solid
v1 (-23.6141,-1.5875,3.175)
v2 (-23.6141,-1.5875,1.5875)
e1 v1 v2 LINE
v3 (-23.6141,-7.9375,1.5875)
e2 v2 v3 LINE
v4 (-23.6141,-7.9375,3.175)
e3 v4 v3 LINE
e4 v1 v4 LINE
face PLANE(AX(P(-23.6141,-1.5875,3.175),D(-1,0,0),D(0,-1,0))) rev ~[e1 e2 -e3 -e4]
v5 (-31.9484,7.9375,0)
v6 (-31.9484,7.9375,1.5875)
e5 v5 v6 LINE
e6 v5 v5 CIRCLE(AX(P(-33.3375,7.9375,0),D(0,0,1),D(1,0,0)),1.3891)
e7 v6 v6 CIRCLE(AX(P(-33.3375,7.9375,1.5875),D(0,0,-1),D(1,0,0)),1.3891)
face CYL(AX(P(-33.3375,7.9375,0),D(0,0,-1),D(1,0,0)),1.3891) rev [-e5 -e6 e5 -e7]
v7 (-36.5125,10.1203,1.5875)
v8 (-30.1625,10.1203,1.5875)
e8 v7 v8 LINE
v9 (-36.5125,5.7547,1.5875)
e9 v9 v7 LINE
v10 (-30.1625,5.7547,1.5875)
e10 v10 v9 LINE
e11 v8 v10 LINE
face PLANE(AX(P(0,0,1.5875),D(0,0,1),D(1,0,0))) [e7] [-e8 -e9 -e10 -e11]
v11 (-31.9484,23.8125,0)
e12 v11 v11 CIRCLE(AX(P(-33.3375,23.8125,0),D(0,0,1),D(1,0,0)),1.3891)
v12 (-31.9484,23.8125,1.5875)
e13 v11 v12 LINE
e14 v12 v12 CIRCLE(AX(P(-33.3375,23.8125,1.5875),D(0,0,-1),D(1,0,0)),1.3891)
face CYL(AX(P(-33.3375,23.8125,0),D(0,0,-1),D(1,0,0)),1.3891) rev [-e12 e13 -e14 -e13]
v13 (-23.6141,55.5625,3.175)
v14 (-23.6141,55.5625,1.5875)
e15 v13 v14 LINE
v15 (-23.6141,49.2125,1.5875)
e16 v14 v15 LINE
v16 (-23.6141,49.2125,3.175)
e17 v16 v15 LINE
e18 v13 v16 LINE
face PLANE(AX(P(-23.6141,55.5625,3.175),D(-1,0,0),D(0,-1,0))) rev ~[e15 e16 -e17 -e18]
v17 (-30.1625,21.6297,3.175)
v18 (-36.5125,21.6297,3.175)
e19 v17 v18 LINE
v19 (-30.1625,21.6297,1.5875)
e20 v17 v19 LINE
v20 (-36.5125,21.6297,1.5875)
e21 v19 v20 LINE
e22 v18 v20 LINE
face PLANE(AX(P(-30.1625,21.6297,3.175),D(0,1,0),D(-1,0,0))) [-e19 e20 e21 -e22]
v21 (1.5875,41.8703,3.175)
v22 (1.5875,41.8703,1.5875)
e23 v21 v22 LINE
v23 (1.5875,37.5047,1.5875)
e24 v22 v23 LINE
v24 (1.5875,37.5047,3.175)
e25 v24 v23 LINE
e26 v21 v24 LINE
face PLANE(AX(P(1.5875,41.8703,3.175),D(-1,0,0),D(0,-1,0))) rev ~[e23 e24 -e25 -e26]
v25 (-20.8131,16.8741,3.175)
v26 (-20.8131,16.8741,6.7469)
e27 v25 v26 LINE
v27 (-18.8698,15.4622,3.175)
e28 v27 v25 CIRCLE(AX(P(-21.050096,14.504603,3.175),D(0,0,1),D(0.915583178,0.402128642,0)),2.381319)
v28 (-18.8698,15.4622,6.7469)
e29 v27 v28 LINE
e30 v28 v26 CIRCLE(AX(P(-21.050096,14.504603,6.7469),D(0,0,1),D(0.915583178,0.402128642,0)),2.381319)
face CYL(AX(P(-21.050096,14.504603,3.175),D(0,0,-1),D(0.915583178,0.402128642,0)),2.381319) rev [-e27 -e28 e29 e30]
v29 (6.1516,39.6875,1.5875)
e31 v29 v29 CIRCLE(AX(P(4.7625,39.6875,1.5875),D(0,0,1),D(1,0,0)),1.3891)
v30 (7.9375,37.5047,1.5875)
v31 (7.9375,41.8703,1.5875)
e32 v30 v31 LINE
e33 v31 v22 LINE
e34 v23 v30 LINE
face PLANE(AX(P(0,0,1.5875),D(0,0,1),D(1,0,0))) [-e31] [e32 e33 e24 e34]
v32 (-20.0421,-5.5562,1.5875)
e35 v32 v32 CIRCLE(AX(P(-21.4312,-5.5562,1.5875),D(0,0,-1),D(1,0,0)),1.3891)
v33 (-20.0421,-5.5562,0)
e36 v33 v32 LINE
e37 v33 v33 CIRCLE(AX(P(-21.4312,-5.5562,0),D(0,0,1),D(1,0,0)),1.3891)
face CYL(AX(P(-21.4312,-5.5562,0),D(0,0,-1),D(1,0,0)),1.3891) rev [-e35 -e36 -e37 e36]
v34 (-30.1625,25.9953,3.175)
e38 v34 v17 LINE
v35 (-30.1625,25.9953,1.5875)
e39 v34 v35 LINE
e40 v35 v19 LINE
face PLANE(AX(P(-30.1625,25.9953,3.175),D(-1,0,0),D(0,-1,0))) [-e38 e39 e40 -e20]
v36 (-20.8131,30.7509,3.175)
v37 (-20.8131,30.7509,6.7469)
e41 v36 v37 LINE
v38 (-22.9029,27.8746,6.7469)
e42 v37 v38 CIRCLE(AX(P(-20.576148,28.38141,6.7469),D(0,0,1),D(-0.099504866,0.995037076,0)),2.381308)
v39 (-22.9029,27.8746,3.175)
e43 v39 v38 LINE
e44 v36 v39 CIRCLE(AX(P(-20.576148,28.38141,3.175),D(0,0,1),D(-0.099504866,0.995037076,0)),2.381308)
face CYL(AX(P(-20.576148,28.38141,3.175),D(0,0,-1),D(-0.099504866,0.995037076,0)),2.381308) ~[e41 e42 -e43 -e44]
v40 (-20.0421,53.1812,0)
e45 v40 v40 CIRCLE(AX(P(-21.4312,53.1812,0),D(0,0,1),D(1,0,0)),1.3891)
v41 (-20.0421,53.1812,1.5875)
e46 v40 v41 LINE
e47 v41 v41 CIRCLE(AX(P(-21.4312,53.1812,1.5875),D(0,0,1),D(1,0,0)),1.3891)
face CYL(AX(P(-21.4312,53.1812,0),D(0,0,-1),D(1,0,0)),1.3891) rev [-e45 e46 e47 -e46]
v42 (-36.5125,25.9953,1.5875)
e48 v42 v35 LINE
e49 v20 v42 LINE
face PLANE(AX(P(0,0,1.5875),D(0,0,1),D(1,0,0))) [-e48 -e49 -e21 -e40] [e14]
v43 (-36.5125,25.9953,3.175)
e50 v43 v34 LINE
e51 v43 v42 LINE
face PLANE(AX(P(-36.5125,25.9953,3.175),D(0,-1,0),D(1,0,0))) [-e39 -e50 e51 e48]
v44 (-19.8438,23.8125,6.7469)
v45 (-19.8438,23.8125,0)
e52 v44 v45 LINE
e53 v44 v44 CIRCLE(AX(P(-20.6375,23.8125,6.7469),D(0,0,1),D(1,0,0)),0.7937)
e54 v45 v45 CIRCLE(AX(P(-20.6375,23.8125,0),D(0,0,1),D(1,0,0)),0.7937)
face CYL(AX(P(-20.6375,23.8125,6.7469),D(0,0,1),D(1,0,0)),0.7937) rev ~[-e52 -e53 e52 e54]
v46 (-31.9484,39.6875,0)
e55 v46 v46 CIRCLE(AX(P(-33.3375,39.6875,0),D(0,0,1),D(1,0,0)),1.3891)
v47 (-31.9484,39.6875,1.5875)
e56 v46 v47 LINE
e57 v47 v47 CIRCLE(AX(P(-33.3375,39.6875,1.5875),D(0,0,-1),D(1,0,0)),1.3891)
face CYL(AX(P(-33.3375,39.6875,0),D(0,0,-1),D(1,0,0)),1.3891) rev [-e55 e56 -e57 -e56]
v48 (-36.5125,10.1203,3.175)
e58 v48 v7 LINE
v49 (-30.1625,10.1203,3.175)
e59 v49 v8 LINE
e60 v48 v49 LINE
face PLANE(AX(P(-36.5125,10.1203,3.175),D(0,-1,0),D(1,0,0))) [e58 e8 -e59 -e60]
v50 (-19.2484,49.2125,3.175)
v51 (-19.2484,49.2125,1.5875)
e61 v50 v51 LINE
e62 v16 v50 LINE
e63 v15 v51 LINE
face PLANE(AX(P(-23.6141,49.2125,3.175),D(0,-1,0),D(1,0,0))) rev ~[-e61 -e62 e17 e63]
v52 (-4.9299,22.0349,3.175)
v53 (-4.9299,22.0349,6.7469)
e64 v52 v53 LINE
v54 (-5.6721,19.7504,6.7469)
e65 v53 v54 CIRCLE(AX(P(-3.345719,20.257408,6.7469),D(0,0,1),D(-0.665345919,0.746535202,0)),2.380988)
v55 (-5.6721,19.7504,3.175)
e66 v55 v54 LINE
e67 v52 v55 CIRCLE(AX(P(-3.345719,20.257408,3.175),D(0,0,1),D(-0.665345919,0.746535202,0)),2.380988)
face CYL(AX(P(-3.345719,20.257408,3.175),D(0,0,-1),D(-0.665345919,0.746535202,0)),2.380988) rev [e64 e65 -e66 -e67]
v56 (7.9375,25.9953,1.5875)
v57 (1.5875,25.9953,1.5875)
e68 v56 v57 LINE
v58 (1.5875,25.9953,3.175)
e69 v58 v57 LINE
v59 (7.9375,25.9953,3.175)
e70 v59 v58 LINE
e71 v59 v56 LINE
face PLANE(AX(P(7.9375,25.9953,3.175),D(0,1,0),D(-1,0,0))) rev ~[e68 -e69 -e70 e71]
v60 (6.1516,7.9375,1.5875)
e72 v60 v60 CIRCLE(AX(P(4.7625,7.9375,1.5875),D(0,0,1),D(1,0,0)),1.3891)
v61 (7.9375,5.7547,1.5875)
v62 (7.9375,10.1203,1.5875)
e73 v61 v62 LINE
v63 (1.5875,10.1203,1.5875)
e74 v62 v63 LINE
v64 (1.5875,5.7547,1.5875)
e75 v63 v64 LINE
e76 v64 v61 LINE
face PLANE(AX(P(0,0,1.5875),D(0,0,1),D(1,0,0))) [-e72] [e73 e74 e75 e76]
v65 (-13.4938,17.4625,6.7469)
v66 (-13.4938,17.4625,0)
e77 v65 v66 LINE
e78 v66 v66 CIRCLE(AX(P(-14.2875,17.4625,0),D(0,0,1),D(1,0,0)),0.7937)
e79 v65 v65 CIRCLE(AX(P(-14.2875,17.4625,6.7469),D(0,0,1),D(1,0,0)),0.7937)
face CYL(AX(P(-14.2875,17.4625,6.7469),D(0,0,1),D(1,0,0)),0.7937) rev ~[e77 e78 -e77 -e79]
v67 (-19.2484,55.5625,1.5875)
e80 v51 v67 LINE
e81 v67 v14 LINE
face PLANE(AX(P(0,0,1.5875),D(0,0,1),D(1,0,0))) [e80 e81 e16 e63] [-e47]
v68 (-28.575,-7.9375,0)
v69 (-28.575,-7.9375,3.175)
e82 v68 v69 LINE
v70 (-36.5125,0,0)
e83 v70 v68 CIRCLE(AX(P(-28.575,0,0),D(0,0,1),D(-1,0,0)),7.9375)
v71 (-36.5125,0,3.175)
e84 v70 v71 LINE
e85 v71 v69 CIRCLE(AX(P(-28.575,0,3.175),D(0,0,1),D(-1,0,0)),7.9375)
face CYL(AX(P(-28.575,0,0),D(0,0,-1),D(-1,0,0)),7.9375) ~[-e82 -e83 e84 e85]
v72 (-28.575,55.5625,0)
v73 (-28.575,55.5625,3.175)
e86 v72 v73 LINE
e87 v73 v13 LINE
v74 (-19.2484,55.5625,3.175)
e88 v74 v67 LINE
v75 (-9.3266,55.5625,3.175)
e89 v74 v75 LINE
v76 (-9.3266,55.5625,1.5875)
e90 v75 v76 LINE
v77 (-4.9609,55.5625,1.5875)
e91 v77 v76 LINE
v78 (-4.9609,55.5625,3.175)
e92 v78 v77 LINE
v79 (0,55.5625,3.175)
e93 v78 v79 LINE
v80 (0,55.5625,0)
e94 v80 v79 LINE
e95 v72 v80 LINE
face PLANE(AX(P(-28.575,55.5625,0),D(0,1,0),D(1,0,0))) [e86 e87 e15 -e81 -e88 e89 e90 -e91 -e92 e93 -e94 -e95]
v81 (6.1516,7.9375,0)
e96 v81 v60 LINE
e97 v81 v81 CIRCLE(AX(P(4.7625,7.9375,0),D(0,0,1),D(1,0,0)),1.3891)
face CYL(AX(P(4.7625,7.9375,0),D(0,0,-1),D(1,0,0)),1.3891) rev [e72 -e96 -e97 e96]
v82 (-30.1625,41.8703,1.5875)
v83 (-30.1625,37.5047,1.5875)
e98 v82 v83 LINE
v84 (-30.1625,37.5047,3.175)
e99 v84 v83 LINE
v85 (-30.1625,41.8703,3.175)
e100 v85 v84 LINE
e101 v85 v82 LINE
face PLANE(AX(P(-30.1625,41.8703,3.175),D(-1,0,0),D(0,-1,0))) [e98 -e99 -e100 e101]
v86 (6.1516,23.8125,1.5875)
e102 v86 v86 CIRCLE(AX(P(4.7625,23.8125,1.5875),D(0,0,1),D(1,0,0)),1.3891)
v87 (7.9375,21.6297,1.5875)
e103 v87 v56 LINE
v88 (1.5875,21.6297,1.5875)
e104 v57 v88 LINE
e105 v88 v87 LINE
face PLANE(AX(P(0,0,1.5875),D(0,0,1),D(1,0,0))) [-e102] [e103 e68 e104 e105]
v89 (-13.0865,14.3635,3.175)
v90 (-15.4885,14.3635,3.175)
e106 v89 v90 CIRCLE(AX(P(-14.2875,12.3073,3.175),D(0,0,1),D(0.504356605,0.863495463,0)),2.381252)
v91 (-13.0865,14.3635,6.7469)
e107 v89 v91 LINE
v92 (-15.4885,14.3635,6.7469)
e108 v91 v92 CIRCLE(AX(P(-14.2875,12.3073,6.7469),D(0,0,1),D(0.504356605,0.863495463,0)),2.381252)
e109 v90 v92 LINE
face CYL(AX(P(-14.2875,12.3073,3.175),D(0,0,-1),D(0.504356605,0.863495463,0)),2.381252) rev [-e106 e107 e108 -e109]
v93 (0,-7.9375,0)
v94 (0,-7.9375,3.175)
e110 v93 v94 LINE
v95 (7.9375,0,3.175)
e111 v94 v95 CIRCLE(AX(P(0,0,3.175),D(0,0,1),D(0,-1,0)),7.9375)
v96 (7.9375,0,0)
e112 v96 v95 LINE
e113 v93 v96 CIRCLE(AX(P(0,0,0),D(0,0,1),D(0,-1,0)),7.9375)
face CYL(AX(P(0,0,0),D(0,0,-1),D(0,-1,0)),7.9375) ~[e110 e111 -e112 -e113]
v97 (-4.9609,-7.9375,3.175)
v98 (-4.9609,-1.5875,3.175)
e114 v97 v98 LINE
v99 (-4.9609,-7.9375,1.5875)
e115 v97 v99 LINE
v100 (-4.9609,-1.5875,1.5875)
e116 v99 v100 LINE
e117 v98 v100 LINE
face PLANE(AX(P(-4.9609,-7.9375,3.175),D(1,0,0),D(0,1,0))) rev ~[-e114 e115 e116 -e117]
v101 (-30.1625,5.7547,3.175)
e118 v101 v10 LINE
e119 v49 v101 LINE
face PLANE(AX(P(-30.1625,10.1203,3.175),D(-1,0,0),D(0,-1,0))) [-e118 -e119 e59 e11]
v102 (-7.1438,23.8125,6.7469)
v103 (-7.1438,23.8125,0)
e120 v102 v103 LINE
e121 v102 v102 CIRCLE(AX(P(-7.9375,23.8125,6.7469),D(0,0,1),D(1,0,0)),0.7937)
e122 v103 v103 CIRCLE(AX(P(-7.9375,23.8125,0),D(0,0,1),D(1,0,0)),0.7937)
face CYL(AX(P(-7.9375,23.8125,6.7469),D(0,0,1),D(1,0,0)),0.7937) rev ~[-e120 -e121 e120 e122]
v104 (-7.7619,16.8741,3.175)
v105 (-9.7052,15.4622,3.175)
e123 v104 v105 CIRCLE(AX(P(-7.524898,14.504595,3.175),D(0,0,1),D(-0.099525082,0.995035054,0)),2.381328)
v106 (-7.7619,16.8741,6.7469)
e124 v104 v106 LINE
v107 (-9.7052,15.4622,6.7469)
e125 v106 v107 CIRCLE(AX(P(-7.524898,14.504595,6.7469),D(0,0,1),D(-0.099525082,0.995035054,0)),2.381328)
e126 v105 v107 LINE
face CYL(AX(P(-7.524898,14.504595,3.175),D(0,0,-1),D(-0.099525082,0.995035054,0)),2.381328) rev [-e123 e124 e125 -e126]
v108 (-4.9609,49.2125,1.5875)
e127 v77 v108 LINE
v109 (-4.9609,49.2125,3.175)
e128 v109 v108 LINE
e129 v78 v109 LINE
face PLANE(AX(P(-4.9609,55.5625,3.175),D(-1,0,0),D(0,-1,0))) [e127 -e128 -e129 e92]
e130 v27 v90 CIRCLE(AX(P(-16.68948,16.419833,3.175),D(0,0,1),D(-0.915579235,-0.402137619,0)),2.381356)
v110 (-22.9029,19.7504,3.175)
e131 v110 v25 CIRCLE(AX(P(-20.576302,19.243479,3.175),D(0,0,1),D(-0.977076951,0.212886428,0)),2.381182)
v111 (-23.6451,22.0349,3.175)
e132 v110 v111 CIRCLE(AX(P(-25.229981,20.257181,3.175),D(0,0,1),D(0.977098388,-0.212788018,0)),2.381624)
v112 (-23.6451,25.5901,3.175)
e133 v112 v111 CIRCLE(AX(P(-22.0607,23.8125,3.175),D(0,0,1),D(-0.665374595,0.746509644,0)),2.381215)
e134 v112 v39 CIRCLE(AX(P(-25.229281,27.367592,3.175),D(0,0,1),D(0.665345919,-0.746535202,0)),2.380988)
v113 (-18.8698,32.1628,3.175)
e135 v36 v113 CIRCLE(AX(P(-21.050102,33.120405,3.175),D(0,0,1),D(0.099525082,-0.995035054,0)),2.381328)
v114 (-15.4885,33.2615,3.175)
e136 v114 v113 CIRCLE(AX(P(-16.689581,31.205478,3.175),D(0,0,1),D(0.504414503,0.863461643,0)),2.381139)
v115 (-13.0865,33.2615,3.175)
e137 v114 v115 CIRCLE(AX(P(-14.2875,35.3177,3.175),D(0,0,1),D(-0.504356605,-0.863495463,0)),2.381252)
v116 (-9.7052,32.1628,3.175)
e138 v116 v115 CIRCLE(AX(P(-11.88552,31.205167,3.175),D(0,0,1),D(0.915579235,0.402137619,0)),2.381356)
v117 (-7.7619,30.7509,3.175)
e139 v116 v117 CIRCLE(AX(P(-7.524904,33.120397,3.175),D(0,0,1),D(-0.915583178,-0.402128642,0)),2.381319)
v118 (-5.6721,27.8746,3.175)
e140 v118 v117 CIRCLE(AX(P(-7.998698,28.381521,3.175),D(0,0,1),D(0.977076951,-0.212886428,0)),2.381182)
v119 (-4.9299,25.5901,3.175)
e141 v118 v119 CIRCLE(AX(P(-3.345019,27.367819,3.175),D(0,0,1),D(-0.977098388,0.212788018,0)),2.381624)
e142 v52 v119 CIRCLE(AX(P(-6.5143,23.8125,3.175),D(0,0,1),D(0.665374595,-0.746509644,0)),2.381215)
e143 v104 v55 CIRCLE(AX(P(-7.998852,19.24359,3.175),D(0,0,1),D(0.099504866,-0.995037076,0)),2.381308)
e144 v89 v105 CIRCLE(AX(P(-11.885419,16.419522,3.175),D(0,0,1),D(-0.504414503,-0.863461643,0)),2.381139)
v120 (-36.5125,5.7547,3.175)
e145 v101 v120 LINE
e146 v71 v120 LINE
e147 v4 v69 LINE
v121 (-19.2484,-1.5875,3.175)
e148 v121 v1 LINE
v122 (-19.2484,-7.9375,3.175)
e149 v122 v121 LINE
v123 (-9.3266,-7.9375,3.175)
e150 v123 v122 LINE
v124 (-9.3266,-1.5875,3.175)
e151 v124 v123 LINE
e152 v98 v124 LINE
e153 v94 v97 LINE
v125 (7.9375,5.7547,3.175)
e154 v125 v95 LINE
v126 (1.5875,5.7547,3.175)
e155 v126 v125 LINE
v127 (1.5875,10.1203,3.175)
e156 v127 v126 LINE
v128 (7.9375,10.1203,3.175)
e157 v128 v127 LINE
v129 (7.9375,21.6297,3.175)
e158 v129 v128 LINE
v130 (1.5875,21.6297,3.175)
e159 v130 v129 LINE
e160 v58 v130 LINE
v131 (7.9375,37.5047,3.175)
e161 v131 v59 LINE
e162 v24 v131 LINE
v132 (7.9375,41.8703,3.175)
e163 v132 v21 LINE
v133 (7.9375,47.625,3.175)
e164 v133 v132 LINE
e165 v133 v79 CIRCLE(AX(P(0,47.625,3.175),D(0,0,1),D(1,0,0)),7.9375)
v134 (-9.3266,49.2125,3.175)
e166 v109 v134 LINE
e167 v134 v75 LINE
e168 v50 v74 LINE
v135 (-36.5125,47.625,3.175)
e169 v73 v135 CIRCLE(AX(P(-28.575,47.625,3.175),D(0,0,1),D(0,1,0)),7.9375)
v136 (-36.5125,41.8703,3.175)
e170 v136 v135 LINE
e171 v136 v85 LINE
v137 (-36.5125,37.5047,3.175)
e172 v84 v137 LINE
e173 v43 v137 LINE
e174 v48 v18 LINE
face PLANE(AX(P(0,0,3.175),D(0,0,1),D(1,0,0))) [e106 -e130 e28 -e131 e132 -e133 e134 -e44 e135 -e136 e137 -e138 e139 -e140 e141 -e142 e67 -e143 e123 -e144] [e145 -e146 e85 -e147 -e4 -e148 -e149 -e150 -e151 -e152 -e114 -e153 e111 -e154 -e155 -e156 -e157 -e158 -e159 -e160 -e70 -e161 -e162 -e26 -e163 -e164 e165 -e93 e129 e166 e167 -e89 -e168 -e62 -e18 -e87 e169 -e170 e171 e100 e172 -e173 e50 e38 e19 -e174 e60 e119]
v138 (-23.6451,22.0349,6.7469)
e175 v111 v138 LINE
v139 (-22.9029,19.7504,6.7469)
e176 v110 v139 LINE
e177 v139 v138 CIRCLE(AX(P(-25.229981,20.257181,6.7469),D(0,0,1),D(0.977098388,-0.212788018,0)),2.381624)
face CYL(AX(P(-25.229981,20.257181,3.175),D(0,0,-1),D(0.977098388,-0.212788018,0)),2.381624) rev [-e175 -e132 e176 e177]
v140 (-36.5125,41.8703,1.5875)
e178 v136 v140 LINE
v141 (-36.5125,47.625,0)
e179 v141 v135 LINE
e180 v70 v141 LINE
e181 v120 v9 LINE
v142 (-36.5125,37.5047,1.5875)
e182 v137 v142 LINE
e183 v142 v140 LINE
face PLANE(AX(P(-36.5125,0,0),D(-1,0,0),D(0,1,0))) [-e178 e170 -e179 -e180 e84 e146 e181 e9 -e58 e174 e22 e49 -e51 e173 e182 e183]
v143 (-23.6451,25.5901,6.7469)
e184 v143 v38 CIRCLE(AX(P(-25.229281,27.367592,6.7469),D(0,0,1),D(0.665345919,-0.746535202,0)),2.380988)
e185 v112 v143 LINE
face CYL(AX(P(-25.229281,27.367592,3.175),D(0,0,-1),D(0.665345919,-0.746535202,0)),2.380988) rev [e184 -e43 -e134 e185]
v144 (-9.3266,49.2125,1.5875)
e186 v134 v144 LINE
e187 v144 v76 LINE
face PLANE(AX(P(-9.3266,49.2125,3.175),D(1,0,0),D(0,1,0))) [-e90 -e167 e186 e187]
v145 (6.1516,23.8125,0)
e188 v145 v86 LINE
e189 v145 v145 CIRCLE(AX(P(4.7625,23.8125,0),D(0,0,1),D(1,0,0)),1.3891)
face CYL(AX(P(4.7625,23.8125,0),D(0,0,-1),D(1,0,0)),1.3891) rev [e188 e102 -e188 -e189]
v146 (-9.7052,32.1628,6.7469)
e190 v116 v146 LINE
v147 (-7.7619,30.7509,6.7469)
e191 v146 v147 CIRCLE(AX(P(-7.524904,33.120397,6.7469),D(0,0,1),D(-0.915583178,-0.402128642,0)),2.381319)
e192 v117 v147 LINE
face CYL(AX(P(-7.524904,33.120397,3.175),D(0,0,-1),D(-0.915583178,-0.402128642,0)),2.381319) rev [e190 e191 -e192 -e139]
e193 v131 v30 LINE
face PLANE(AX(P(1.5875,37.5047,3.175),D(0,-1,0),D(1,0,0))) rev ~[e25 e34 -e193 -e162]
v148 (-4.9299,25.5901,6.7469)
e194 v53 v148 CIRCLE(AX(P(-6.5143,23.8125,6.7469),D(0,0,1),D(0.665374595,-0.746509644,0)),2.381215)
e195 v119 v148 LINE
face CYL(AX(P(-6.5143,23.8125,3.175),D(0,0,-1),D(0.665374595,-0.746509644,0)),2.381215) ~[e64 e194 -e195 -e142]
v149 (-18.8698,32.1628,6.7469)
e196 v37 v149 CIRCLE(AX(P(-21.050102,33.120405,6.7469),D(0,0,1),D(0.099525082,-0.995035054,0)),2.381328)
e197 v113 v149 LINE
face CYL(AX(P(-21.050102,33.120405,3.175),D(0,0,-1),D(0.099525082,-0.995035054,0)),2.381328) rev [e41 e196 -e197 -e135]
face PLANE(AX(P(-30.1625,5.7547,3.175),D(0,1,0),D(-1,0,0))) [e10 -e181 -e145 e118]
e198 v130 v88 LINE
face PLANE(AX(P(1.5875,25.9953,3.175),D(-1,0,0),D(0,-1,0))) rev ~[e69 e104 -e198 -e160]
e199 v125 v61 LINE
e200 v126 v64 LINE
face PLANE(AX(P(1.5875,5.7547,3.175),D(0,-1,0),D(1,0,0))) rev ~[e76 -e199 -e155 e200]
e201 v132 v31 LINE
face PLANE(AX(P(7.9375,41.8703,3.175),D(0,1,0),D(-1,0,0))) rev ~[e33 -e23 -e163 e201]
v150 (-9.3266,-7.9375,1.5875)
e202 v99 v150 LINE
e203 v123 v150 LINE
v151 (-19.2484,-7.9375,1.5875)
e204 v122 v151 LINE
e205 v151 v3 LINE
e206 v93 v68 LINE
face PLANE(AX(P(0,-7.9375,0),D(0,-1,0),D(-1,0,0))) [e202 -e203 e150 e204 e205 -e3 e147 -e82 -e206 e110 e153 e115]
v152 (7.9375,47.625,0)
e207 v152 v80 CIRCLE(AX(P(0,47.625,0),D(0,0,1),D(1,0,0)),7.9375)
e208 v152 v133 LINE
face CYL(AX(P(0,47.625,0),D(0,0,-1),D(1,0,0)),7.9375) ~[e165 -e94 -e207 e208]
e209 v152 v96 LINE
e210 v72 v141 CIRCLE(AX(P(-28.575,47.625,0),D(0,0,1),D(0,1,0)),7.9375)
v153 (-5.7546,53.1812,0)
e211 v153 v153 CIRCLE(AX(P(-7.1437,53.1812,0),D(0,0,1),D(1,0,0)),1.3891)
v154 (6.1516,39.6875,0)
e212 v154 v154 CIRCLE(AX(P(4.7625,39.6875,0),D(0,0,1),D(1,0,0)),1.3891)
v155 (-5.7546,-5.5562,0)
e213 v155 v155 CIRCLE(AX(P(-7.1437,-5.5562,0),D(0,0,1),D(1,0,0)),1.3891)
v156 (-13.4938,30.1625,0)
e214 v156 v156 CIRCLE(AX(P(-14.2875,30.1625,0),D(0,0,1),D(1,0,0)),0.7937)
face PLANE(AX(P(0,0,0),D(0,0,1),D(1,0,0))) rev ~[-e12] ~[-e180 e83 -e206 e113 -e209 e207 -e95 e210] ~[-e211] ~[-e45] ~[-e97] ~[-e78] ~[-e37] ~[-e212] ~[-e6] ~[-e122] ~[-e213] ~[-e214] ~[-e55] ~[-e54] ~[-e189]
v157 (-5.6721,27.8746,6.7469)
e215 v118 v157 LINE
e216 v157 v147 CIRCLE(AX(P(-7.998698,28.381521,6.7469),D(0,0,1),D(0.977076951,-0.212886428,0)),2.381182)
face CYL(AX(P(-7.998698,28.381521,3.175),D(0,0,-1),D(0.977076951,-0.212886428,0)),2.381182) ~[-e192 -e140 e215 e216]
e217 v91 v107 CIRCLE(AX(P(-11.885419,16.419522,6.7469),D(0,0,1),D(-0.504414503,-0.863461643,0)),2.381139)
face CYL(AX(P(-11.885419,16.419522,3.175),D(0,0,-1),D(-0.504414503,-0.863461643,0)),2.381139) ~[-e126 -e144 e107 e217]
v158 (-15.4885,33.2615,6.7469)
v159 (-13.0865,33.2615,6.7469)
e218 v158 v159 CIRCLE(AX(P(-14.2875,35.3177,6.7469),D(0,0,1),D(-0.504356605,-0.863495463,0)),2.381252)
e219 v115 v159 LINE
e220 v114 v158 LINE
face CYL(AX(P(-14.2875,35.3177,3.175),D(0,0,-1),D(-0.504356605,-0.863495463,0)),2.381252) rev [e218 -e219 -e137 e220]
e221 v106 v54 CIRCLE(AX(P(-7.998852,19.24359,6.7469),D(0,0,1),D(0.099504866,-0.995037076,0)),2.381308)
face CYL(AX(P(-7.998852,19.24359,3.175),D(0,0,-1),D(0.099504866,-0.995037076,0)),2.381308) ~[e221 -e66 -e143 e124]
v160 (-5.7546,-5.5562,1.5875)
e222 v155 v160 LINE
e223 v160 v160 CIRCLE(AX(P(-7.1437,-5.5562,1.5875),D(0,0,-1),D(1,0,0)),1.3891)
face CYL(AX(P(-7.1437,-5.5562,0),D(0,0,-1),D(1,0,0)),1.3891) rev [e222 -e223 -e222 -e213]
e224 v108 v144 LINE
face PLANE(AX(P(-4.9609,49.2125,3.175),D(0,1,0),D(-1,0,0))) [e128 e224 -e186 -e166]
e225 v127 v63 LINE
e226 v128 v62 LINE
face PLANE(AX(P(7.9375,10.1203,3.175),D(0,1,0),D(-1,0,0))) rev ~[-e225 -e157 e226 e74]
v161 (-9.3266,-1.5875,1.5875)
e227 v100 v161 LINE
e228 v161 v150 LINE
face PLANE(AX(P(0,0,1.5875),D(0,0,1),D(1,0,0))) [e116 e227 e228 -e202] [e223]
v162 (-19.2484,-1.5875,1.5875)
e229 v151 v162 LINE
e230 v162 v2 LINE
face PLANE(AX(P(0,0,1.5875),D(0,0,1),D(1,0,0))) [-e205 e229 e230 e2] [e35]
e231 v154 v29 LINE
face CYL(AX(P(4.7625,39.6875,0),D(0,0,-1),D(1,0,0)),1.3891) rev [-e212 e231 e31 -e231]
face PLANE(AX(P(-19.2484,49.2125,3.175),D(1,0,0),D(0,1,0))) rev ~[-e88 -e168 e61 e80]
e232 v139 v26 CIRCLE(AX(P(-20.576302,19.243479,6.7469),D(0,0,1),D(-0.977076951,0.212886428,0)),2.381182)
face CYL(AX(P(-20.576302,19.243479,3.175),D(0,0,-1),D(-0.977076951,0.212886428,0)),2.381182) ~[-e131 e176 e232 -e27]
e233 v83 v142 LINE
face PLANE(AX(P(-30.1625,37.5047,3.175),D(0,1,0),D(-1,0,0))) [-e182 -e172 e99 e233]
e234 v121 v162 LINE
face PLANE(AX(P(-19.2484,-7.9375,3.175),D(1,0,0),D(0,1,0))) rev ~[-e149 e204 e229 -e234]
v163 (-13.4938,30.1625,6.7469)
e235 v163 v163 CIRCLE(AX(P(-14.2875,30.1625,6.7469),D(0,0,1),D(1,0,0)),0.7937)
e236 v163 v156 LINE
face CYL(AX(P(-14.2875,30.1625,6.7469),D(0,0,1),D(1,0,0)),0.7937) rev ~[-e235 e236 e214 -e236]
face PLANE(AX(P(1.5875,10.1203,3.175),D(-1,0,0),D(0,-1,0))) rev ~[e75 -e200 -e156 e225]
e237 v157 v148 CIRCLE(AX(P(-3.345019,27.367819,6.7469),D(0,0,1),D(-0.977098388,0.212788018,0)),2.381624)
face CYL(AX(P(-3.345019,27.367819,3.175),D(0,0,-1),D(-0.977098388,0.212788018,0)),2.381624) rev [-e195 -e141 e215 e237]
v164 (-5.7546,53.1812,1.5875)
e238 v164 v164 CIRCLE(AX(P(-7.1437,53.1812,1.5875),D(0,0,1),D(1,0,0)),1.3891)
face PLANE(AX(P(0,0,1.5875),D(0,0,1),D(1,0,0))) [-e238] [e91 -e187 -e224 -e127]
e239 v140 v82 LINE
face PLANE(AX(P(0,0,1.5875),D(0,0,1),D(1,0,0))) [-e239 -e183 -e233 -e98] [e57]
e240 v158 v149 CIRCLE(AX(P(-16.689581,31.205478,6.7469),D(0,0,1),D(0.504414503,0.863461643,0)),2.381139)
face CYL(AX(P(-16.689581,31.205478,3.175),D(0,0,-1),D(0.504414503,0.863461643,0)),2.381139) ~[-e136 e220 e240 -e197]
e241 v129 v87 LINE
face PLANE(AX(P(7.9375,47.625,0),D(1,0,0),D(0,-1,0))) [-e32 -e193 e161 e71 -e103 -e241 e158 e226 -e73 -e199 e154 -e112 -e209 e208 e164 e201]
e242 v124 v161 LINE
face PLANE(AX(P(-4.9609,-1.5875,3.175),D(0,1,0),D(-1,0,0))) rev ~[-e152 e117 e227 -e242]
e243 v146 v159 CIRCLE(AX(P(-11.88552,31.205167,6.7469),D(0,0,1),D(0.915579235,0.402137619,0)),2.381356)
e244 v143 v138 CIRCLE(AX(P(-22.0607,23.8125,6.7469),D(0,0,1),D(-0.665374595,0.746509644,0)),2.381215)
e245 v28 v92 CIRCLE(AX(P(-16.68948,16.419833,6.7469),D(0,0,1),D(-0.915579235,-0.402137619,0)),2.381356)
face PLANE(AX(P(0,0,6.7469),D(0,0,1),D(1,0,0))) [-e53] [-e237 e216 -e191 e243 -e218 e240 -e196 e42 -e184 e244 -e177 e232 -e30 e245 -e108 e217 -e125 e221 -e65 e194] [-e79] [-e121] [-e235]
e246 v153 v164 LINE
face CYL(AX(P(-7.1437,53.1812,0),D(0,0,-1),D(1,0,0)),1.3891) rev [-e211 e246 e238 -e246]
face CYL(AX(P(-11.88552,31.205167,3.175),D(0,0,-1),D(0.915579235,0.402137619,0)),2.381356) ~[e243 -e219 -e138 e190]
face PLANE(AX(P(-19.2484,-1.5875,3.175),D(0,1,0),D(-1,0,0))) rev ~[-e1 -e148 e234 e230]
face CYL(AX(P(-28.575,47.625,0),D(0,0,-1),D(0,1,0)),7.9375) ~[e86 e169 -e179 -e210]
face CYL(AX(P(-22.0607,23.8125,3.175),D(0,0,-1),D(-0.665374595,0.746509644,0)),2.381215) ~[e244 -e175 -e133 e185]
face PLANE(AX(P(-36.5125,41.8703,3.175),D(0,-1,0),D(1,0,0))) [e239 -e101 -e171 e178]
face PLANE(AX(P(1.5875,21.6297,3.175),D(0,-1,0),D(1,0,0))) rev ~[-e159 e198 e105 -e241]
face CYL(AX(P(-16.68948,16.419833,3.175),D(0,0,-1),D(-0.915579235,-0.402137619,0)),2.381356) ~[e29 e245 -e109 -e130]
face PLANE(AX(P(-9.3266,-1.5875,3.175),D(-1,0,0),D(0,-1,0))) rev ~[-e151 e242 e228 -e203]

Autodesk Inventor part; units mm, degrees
ref_plane "YZ Plane" through (0, 0, 0) normal (1, 0, 0) x (0, 1, 0)
ref_plane "XZ Plane" through (0, 0, 0) normal (0, 1, 0) x (-1, 0, 0)
ref_plane "XY Plane" through (0, 0, 0) normal (0, 0, 1) x (1, 0, 0)
sketch "Sketch27" plane through (0, 0, 0) normal (0, 0, 1) x (1, 0, 0)
  line L0 (0, -7.9375) -> (-28.575, -7.9375)
  line L1 (-36.5125, 0) -> (-36.5125, 47.625)
  line L2 (-28.575, 55.5625) -> (0, 55.5625)
  line L3 (7.9375, 47.625) -> (7.9375, 0)
  circle A0 centre (-28.575, 47.625) radius 6.5484
  circle A1 centre (-28.575, 31.75) radius 6.5484
  circle A2 centre (-28.575, 15.875) radius 6.5484
  circle A3 centre (-28.575, 0) radius 6.5484
  circle A4 centre (-14.2875, 0) radius 6.5484
  circle A5 centre (-14.2875, 47.625) radius 6.5484
  circle A6 centre (0, 47.625) radius 6.5484
  circle A7 centre (0, 31.75) radius 6.5484
  circle A8 centre (0, 15.875) radius 6.5484
  circle A9 centre (0, 0) radius 6.5484
  arc A10 (-28.575, 55.5625) -> (-36.5125, 47.625) centre (-28.575, 47.625) ccw
  arc A11 (7.9375, 47.625) -> (0, 55.5625) centre (0, 47.625) ccw
  arc A12 (-36.5125, 0) -> (-28.575, -7.9375) centre (-28.575, 0) ccw
  arc A13 (0, -7.9375) -> (7.9375, 0) centre (0, 0) ccw
  circle A14 centre (-33.3375, 39.6875) radius 1.3891
  circle A15 centre (-33.3375, 23.8125) radius 1.3891
  circle A16 centre (-33.3375, 7.9375) radius 1.3891
  circle A17 centre (4.7625, 39.6875) radius 1.3891
  circle A18 centre (4.7625, 23.8125) radius 1.3891
  circle A19 centre (4.7625, 7.9375) radius 1.3891
  circle A20 centre (-21.4312, 53.1812) radius 1.3891
  circle A21 centre (-7.1437, 53.1812) radius 1.3891
  circle A22 centre (-21.4312, -5.5562) radius 1.3891
  circle A23 centre (-7.1437, -5.5562) radius 1.3891
  dimension "d126" = 13.0969
  dimension "d127" = 13.0969
  dimension "d128" = 13.0969
  dimension "d129" = 13.0969
  dimension "d130" = 13.0969
  dimension "d131" = 13.0969
  dimension "d132" = 13.0969
  dimension "d133" = 13.0969
  dimension "d134" = 13.0969
  dimension "d135" = 13.0969
  dimension "d136" = 7.9375
  dimension "d137" = 14.2875
  dimension "d138" = 14.2875
  dimension "d139" = 7.9375
  dimension "d140" = 7.9375
  dimension "d141" = 15.875
  dimension "d142" = 15.875
  dimension "d145" = 44.45
  dimension "d146" = 63.5
  dimension "d149" = 2.7781
  dimension "d150" = 2.7781
  dimension "d151" = 2.7781
  dimension "d152" = 2.7781
  dimension "d153" = 2.7781
  dimension "d154" = 2.7781
  dimension "d155" = 3.175
  dimension "d156" = 3.175
  dimension "d157" = 15.875
  dimension "d158" = 15.875
  dimension "d159" = 15.875
  dimension "d162" = 2.7781
  dimension "d163" = 2.7781
  dimension "d164" = 2.7781
  dimension "d165" = 2.7781
  dimension "d166" = 2.3813
  dimension "d169" = 2.3813
  dimension "d170" = 7.1437
  dimension "d171" = 7.1437
extrude "Extrusion25" add sketch "Sketch27" along normal blind 3.175 contours L0 A12 L1 A10 L2 A11 L3 A13 | A0 | A1 | A2 | A3 | A4 | A5 | A6 | A7 | A8 | A9
sketch "Sketch38" plane through (0, 0, 3.175) normal (0, 0, 1) x (1, 0, 0)
  circle A0 centre (-14.2875, 23.8125) radius 9.525
  arc A1 (-15.4885, 33.2615) -> (-18.8698, 32.1628) centre (-16.6896, 31.2053) ccw
  arc A2 (-15.4885, 33.2615) -> (-13.0865, 33.2615) centre (-14.2875, 35.3177) ccw
  line L0 (7.9375, 0) -> (7.9375, 47.625) projected
  line L1 (0, 55.5625) -> (-28.575, 55.5625) projected
  arc A3 (-9.7052, 32.1628) -> (-13.0865, 33.2615) centre (-11.8854, 31.2053) ccw
  arc A4 (-9.7052, 32.1628) -> (-7.7619, 30.7509) centre (-7.5249, 33.1204) ccw
  arc A5 (-5.6721, 27.8746) -> (-7.7619, 30.7509) centre (-7.9988, 28.3815) ccw
  arc A6 (-5.6721, 27.8746) -> (-4.9299, 25.5901) centre (-3.3454, 27.3678) ccw
  arc A7 (-4.9299, 22.0349) -> (-4.9299, 25.5901) centre (-6.5143, 23.8125) ccw
  arc A8 (-4.9299, 22.0349) -> (-5.6721, 19.7504) centre (-3.3454, 20.2572) ccw
  arc A9 (-7.7619, 16.8741) -> (-5.6721, 19.7504) centre (-7.9988, 19.2435) ccw
  arc A10 (-7.7619, 16.8741) -> (-9.7052, 15.4622) centre (-7.5249, 14.5046) ccw
  arc A11 (-13.0865, 14.3635) -> (-9.7052, 15.4622) centre (-11.8854, 16.4197) ccw
  arc A12 (-13.0865, 14.3635) -> (-15.4885, 14.3635) centre (-14.2875, 12.3073) ccw
  arc A13 (-18.8698, 15.4622) -> (-15.4885, 14.3635) centre (-16.6896, 16.4197) ccw
  arc A14 (-18.8698, 15.4622) -> (-20.8131, 16.8741) centre (-21.0501, 14.5046) ccw
  arc A15 (-22.9029, 19.7504) -> (-20.8131, 16.8741) centre (-20.5762, 19.2435) ccw
  arc A16 (-22.9029, 19.7504) -> (-23.6451, 22.0349) centre (-25.2296, 20.2572) ccw
  arc A17 (-20.8131, 30.7509) -> (-18.8698, 32.1628) centre (-21.0501, 33.1204) ccw
  arc A18 (-23.6451, 25.5901) -> (-23.6451, 22.0349) centre (-22.0607, 23.8125) ccw
  arc A19 (-23.6451, 25.5901) -> (-22.9029, 27.8746) centre (-25.2296, 27.3678) ccw
  arc A20 (-20.8131, 30.7509) -> (-22.9029, 27.8746) centre (-20.5762, 28.3815) ccw
  point P0 (0, 0)
  dimension "d265" = 19.05
  dimension "d266" = 22.225
  dimension "d267" = 31.75
  dimension "d268" = 2.3813
extrude "Extrusion29" add sketch "Sketch38" along normal blind 3.5719 contours A0 A8 A10 A12 A14 A16 A19 A17 A2 A4 A6 | A0 A7 | A0 A5 | A9 A0 | A0 A3 | A11 A0 | A0 A1 | A13 A0 | A0 A20 | A15 A0 | A0 A18
sketch "Sketch39" plane through (0, 0, 3.175) normal (0, 0, 1) x (1, 0, 0)
  line L0 (7.9375, 10.1203) -> (1.5875, 10.1203)
  line L1 (1.5875, 10.1203) -> (1.5875, 5.7547)
  line L2 (1.5875, 5.7547) -> (7.9375, 5.7547)
  line L3 (7.9375, 5.7547) -> (7.9375, 10.1203)
  line L4 (7.9375, 0) -> (7.9375, 47.625) projected
  circle A0 centre (4.7625, 7.9375) radius 1.3891 projected
  line L5 (7.9375, 25.9953) -> (1.5875, 25.9953)
  line L6 (1.5875, 25.9953) -> (1.5875, 21.6297)
  line L7 (1.5875, 21.6297) -> (7.9375, 21.6297)
  line L8 (7.9375, 21.6297) -> (7.9375, 25.9953)
  line L9 (7.9375, 41.8703) -> (1.5875, 41.8703)
  line L10 (1.5875, 41.8703) -> (1.5875, 37.5047)
  line L11 (1.5875, 37.5047) -> (7.9375, 37.5047)
  line L12 (7.9375, 37.5047) -> (7.9375, 41.8703)
  line L13 (0, 55.5625) -> (-28.575, 55.5625) projected
  line L14 (-9.3266, 55.5625) -> (-4.9609, 55.5625)
  line L15 (-4.9609, 55.5625) -> (-4.9609, 49.2125)
  line L16 (-4.9609, 49.2125) -> (-9.3266, 49.2125)
  line L17 (-9.3266, 49.2125) -> (-9.3266, 55.5625)
  line L18 (-19.2484, 55.5625) -> (-23.6141, 55.5625)
  line L19 (-23.6141, 55.5625) -> (-23.6141, 49.2125)
  line L20 (-23.6141, 49.2125) -> (-19.2484, 49.2125)
  line L21 (-19.2484, 49.2125) -> (-19.2484, 55.5625)
  line L22 (-36.5125, 41.8703) -> (-30.1625, 41.8703)
  line L23 (-30.1625, 41.8703) -> (-30.1625, 37.5047)
  line L24 (-30.1625, 37.5047) -> (-36.5125, 37.5047)
  line L25 (-36.5125, 37.5047) -> (-36.5125, 41.8703)
  line L26 (-36.5125, 25.9953) -> (-30.1625, 25.9953)
  line L27 (-30.1625, 25.9953) -> (-30.1625, 21.6297)
  line L28 (-30.1625, 21.6297) -> (-36.5125, 21.6297)
  line L29 (-36.5125, 21.6297) -> (-36.5125, 25.9953)
  line L30 (-36.5125, 10.1203) -> (-30.1625, 10.1203)
  line L31 (-30.1625, 10.1203) -> (-30.1625, 5.7547)
  line L32 (-30.1625, 5.7547) -> (-36.5125, 5.7547)
  line L33 (-36.5125, 5.7547) -> (-36.5125, 10.1203)
  line L34 (0, -7.9375) -> (-28.575, -7.9375) projected
  line L35 (-23.6141, -7.9375) -> (-19.2484, -7.9375)
  line L36 (-19.2484, -7.9375) -> (-19.2484, -1.5875)
  line L37 (-19.2484, -1.5875) -> (-23.6141, -1.5875)
  line L38 (-23.6141, -1.5875) -> (-23.6141, -7.9375)
  line L39 (-9.3266, -7.9375) -> (-4.9609, -7.9375)
  line L40 (-4.9609, -7.9375) -> (-4.9609, -1.5875)
  line L41 (-4.9609, -1.5875) -> (-9.3266, -1.5875)
  line L42 (-9.3266, -1.5875) -> (-9.3266, -7.9375)
  line L43 (-36.5125, 47.625) -> (-36.5125, 0) projected
  circle A1 centre (4.7625, 23.8125) radius 1.3891 projected
  circle A2 centre (4.7625, 39.6875) radius 1.3891 projected
  circle A3 centre (-7.1437, 53.1812) radius 1.3891 projected
  circle A4 centre (-21.4312, 53.1812) radius 1.3891 projected
  point P0 (0, 0)
  dimension "d273" = 4.3656
  dimension "d274" = 6.35
  dimension "d275" = 2.1828
  dimension "d276" = 2.1828
  dimension "d277" = 2.1828
  dimension "d278" = 2.1828
  dimension "d279" = 2.1828
extrude "Extrusion30" cut sketch "Sketch39" against normal blind 1.5875
sketch "Sketch41" plane through (0, 0, 6.7469) normal (0, 0, 1) x (1, 0, 0)
  circle A0 centre (-14.2875, 30.1625) radius 0.7937
  circle A1 centre (-14.2875, 17.4625) radius 0.7937
  circle A2 centre (-7.9375, 23.8125) radius 0.7937
  circle A3 centre (-20.6375, 23.8125) radius 0.7937
  line L0 (-9.3266, 55.5625) -> (-19.2484, 55.5625) projected
  line L1 (7.9375, 25.9953) -> (7.9375, 37.5047) projected
  point P0 (0, 0)
  dimension "d287" = 1.5875
  dimension "d288" = 1.5875
  dimension "d289" = 1.5875
  dimension "d290" = 1.5875
  dimension "d291" = 12.7
  dimension "d292" = 12.7
  dimension "d293" = 6.35
  dimension "d294" = 6.35
  dimension "d295" = 25.4
  dimension "d296" = 15.875
extrude "Extrusion32" cut sketch "Sketch41" against normal through all
equation "\"d127\" = d126"
equation "\"d128\" = d126"
equation "\"d129\" = d126"
equation "\"d130\" = d126"
equation "\"d131\" = d126"
equation "\"d132\" = d126"
equation "\"d133\" = d126"
equation "\"d134\" = d126"
equation "\"d135\" = d126"
equation "\"d138\" = d137"
equation "\"d139\" = d136"
equation "\"d140\" = d136"
equation "\"d142\" = d141"
equation "\"d150\" = d149"
equation "\"d151\" = d149"
equation "\"d152\" = d149"
equation "\"d153\" = d149"
equation "\"d154\" = d149"
equation "\"d158\" = d157"
equation "\"d159\" = d157"
equation "\"d162\" = d149"
equation "\"d163\" = d149"
equation "\"d164\" = d149"
equation "\"d165\" = d149"
equation "\"d170\" = 0.5 * d137"
equation "\"d171\" = d170"
properties part number "magnetic1-1"
